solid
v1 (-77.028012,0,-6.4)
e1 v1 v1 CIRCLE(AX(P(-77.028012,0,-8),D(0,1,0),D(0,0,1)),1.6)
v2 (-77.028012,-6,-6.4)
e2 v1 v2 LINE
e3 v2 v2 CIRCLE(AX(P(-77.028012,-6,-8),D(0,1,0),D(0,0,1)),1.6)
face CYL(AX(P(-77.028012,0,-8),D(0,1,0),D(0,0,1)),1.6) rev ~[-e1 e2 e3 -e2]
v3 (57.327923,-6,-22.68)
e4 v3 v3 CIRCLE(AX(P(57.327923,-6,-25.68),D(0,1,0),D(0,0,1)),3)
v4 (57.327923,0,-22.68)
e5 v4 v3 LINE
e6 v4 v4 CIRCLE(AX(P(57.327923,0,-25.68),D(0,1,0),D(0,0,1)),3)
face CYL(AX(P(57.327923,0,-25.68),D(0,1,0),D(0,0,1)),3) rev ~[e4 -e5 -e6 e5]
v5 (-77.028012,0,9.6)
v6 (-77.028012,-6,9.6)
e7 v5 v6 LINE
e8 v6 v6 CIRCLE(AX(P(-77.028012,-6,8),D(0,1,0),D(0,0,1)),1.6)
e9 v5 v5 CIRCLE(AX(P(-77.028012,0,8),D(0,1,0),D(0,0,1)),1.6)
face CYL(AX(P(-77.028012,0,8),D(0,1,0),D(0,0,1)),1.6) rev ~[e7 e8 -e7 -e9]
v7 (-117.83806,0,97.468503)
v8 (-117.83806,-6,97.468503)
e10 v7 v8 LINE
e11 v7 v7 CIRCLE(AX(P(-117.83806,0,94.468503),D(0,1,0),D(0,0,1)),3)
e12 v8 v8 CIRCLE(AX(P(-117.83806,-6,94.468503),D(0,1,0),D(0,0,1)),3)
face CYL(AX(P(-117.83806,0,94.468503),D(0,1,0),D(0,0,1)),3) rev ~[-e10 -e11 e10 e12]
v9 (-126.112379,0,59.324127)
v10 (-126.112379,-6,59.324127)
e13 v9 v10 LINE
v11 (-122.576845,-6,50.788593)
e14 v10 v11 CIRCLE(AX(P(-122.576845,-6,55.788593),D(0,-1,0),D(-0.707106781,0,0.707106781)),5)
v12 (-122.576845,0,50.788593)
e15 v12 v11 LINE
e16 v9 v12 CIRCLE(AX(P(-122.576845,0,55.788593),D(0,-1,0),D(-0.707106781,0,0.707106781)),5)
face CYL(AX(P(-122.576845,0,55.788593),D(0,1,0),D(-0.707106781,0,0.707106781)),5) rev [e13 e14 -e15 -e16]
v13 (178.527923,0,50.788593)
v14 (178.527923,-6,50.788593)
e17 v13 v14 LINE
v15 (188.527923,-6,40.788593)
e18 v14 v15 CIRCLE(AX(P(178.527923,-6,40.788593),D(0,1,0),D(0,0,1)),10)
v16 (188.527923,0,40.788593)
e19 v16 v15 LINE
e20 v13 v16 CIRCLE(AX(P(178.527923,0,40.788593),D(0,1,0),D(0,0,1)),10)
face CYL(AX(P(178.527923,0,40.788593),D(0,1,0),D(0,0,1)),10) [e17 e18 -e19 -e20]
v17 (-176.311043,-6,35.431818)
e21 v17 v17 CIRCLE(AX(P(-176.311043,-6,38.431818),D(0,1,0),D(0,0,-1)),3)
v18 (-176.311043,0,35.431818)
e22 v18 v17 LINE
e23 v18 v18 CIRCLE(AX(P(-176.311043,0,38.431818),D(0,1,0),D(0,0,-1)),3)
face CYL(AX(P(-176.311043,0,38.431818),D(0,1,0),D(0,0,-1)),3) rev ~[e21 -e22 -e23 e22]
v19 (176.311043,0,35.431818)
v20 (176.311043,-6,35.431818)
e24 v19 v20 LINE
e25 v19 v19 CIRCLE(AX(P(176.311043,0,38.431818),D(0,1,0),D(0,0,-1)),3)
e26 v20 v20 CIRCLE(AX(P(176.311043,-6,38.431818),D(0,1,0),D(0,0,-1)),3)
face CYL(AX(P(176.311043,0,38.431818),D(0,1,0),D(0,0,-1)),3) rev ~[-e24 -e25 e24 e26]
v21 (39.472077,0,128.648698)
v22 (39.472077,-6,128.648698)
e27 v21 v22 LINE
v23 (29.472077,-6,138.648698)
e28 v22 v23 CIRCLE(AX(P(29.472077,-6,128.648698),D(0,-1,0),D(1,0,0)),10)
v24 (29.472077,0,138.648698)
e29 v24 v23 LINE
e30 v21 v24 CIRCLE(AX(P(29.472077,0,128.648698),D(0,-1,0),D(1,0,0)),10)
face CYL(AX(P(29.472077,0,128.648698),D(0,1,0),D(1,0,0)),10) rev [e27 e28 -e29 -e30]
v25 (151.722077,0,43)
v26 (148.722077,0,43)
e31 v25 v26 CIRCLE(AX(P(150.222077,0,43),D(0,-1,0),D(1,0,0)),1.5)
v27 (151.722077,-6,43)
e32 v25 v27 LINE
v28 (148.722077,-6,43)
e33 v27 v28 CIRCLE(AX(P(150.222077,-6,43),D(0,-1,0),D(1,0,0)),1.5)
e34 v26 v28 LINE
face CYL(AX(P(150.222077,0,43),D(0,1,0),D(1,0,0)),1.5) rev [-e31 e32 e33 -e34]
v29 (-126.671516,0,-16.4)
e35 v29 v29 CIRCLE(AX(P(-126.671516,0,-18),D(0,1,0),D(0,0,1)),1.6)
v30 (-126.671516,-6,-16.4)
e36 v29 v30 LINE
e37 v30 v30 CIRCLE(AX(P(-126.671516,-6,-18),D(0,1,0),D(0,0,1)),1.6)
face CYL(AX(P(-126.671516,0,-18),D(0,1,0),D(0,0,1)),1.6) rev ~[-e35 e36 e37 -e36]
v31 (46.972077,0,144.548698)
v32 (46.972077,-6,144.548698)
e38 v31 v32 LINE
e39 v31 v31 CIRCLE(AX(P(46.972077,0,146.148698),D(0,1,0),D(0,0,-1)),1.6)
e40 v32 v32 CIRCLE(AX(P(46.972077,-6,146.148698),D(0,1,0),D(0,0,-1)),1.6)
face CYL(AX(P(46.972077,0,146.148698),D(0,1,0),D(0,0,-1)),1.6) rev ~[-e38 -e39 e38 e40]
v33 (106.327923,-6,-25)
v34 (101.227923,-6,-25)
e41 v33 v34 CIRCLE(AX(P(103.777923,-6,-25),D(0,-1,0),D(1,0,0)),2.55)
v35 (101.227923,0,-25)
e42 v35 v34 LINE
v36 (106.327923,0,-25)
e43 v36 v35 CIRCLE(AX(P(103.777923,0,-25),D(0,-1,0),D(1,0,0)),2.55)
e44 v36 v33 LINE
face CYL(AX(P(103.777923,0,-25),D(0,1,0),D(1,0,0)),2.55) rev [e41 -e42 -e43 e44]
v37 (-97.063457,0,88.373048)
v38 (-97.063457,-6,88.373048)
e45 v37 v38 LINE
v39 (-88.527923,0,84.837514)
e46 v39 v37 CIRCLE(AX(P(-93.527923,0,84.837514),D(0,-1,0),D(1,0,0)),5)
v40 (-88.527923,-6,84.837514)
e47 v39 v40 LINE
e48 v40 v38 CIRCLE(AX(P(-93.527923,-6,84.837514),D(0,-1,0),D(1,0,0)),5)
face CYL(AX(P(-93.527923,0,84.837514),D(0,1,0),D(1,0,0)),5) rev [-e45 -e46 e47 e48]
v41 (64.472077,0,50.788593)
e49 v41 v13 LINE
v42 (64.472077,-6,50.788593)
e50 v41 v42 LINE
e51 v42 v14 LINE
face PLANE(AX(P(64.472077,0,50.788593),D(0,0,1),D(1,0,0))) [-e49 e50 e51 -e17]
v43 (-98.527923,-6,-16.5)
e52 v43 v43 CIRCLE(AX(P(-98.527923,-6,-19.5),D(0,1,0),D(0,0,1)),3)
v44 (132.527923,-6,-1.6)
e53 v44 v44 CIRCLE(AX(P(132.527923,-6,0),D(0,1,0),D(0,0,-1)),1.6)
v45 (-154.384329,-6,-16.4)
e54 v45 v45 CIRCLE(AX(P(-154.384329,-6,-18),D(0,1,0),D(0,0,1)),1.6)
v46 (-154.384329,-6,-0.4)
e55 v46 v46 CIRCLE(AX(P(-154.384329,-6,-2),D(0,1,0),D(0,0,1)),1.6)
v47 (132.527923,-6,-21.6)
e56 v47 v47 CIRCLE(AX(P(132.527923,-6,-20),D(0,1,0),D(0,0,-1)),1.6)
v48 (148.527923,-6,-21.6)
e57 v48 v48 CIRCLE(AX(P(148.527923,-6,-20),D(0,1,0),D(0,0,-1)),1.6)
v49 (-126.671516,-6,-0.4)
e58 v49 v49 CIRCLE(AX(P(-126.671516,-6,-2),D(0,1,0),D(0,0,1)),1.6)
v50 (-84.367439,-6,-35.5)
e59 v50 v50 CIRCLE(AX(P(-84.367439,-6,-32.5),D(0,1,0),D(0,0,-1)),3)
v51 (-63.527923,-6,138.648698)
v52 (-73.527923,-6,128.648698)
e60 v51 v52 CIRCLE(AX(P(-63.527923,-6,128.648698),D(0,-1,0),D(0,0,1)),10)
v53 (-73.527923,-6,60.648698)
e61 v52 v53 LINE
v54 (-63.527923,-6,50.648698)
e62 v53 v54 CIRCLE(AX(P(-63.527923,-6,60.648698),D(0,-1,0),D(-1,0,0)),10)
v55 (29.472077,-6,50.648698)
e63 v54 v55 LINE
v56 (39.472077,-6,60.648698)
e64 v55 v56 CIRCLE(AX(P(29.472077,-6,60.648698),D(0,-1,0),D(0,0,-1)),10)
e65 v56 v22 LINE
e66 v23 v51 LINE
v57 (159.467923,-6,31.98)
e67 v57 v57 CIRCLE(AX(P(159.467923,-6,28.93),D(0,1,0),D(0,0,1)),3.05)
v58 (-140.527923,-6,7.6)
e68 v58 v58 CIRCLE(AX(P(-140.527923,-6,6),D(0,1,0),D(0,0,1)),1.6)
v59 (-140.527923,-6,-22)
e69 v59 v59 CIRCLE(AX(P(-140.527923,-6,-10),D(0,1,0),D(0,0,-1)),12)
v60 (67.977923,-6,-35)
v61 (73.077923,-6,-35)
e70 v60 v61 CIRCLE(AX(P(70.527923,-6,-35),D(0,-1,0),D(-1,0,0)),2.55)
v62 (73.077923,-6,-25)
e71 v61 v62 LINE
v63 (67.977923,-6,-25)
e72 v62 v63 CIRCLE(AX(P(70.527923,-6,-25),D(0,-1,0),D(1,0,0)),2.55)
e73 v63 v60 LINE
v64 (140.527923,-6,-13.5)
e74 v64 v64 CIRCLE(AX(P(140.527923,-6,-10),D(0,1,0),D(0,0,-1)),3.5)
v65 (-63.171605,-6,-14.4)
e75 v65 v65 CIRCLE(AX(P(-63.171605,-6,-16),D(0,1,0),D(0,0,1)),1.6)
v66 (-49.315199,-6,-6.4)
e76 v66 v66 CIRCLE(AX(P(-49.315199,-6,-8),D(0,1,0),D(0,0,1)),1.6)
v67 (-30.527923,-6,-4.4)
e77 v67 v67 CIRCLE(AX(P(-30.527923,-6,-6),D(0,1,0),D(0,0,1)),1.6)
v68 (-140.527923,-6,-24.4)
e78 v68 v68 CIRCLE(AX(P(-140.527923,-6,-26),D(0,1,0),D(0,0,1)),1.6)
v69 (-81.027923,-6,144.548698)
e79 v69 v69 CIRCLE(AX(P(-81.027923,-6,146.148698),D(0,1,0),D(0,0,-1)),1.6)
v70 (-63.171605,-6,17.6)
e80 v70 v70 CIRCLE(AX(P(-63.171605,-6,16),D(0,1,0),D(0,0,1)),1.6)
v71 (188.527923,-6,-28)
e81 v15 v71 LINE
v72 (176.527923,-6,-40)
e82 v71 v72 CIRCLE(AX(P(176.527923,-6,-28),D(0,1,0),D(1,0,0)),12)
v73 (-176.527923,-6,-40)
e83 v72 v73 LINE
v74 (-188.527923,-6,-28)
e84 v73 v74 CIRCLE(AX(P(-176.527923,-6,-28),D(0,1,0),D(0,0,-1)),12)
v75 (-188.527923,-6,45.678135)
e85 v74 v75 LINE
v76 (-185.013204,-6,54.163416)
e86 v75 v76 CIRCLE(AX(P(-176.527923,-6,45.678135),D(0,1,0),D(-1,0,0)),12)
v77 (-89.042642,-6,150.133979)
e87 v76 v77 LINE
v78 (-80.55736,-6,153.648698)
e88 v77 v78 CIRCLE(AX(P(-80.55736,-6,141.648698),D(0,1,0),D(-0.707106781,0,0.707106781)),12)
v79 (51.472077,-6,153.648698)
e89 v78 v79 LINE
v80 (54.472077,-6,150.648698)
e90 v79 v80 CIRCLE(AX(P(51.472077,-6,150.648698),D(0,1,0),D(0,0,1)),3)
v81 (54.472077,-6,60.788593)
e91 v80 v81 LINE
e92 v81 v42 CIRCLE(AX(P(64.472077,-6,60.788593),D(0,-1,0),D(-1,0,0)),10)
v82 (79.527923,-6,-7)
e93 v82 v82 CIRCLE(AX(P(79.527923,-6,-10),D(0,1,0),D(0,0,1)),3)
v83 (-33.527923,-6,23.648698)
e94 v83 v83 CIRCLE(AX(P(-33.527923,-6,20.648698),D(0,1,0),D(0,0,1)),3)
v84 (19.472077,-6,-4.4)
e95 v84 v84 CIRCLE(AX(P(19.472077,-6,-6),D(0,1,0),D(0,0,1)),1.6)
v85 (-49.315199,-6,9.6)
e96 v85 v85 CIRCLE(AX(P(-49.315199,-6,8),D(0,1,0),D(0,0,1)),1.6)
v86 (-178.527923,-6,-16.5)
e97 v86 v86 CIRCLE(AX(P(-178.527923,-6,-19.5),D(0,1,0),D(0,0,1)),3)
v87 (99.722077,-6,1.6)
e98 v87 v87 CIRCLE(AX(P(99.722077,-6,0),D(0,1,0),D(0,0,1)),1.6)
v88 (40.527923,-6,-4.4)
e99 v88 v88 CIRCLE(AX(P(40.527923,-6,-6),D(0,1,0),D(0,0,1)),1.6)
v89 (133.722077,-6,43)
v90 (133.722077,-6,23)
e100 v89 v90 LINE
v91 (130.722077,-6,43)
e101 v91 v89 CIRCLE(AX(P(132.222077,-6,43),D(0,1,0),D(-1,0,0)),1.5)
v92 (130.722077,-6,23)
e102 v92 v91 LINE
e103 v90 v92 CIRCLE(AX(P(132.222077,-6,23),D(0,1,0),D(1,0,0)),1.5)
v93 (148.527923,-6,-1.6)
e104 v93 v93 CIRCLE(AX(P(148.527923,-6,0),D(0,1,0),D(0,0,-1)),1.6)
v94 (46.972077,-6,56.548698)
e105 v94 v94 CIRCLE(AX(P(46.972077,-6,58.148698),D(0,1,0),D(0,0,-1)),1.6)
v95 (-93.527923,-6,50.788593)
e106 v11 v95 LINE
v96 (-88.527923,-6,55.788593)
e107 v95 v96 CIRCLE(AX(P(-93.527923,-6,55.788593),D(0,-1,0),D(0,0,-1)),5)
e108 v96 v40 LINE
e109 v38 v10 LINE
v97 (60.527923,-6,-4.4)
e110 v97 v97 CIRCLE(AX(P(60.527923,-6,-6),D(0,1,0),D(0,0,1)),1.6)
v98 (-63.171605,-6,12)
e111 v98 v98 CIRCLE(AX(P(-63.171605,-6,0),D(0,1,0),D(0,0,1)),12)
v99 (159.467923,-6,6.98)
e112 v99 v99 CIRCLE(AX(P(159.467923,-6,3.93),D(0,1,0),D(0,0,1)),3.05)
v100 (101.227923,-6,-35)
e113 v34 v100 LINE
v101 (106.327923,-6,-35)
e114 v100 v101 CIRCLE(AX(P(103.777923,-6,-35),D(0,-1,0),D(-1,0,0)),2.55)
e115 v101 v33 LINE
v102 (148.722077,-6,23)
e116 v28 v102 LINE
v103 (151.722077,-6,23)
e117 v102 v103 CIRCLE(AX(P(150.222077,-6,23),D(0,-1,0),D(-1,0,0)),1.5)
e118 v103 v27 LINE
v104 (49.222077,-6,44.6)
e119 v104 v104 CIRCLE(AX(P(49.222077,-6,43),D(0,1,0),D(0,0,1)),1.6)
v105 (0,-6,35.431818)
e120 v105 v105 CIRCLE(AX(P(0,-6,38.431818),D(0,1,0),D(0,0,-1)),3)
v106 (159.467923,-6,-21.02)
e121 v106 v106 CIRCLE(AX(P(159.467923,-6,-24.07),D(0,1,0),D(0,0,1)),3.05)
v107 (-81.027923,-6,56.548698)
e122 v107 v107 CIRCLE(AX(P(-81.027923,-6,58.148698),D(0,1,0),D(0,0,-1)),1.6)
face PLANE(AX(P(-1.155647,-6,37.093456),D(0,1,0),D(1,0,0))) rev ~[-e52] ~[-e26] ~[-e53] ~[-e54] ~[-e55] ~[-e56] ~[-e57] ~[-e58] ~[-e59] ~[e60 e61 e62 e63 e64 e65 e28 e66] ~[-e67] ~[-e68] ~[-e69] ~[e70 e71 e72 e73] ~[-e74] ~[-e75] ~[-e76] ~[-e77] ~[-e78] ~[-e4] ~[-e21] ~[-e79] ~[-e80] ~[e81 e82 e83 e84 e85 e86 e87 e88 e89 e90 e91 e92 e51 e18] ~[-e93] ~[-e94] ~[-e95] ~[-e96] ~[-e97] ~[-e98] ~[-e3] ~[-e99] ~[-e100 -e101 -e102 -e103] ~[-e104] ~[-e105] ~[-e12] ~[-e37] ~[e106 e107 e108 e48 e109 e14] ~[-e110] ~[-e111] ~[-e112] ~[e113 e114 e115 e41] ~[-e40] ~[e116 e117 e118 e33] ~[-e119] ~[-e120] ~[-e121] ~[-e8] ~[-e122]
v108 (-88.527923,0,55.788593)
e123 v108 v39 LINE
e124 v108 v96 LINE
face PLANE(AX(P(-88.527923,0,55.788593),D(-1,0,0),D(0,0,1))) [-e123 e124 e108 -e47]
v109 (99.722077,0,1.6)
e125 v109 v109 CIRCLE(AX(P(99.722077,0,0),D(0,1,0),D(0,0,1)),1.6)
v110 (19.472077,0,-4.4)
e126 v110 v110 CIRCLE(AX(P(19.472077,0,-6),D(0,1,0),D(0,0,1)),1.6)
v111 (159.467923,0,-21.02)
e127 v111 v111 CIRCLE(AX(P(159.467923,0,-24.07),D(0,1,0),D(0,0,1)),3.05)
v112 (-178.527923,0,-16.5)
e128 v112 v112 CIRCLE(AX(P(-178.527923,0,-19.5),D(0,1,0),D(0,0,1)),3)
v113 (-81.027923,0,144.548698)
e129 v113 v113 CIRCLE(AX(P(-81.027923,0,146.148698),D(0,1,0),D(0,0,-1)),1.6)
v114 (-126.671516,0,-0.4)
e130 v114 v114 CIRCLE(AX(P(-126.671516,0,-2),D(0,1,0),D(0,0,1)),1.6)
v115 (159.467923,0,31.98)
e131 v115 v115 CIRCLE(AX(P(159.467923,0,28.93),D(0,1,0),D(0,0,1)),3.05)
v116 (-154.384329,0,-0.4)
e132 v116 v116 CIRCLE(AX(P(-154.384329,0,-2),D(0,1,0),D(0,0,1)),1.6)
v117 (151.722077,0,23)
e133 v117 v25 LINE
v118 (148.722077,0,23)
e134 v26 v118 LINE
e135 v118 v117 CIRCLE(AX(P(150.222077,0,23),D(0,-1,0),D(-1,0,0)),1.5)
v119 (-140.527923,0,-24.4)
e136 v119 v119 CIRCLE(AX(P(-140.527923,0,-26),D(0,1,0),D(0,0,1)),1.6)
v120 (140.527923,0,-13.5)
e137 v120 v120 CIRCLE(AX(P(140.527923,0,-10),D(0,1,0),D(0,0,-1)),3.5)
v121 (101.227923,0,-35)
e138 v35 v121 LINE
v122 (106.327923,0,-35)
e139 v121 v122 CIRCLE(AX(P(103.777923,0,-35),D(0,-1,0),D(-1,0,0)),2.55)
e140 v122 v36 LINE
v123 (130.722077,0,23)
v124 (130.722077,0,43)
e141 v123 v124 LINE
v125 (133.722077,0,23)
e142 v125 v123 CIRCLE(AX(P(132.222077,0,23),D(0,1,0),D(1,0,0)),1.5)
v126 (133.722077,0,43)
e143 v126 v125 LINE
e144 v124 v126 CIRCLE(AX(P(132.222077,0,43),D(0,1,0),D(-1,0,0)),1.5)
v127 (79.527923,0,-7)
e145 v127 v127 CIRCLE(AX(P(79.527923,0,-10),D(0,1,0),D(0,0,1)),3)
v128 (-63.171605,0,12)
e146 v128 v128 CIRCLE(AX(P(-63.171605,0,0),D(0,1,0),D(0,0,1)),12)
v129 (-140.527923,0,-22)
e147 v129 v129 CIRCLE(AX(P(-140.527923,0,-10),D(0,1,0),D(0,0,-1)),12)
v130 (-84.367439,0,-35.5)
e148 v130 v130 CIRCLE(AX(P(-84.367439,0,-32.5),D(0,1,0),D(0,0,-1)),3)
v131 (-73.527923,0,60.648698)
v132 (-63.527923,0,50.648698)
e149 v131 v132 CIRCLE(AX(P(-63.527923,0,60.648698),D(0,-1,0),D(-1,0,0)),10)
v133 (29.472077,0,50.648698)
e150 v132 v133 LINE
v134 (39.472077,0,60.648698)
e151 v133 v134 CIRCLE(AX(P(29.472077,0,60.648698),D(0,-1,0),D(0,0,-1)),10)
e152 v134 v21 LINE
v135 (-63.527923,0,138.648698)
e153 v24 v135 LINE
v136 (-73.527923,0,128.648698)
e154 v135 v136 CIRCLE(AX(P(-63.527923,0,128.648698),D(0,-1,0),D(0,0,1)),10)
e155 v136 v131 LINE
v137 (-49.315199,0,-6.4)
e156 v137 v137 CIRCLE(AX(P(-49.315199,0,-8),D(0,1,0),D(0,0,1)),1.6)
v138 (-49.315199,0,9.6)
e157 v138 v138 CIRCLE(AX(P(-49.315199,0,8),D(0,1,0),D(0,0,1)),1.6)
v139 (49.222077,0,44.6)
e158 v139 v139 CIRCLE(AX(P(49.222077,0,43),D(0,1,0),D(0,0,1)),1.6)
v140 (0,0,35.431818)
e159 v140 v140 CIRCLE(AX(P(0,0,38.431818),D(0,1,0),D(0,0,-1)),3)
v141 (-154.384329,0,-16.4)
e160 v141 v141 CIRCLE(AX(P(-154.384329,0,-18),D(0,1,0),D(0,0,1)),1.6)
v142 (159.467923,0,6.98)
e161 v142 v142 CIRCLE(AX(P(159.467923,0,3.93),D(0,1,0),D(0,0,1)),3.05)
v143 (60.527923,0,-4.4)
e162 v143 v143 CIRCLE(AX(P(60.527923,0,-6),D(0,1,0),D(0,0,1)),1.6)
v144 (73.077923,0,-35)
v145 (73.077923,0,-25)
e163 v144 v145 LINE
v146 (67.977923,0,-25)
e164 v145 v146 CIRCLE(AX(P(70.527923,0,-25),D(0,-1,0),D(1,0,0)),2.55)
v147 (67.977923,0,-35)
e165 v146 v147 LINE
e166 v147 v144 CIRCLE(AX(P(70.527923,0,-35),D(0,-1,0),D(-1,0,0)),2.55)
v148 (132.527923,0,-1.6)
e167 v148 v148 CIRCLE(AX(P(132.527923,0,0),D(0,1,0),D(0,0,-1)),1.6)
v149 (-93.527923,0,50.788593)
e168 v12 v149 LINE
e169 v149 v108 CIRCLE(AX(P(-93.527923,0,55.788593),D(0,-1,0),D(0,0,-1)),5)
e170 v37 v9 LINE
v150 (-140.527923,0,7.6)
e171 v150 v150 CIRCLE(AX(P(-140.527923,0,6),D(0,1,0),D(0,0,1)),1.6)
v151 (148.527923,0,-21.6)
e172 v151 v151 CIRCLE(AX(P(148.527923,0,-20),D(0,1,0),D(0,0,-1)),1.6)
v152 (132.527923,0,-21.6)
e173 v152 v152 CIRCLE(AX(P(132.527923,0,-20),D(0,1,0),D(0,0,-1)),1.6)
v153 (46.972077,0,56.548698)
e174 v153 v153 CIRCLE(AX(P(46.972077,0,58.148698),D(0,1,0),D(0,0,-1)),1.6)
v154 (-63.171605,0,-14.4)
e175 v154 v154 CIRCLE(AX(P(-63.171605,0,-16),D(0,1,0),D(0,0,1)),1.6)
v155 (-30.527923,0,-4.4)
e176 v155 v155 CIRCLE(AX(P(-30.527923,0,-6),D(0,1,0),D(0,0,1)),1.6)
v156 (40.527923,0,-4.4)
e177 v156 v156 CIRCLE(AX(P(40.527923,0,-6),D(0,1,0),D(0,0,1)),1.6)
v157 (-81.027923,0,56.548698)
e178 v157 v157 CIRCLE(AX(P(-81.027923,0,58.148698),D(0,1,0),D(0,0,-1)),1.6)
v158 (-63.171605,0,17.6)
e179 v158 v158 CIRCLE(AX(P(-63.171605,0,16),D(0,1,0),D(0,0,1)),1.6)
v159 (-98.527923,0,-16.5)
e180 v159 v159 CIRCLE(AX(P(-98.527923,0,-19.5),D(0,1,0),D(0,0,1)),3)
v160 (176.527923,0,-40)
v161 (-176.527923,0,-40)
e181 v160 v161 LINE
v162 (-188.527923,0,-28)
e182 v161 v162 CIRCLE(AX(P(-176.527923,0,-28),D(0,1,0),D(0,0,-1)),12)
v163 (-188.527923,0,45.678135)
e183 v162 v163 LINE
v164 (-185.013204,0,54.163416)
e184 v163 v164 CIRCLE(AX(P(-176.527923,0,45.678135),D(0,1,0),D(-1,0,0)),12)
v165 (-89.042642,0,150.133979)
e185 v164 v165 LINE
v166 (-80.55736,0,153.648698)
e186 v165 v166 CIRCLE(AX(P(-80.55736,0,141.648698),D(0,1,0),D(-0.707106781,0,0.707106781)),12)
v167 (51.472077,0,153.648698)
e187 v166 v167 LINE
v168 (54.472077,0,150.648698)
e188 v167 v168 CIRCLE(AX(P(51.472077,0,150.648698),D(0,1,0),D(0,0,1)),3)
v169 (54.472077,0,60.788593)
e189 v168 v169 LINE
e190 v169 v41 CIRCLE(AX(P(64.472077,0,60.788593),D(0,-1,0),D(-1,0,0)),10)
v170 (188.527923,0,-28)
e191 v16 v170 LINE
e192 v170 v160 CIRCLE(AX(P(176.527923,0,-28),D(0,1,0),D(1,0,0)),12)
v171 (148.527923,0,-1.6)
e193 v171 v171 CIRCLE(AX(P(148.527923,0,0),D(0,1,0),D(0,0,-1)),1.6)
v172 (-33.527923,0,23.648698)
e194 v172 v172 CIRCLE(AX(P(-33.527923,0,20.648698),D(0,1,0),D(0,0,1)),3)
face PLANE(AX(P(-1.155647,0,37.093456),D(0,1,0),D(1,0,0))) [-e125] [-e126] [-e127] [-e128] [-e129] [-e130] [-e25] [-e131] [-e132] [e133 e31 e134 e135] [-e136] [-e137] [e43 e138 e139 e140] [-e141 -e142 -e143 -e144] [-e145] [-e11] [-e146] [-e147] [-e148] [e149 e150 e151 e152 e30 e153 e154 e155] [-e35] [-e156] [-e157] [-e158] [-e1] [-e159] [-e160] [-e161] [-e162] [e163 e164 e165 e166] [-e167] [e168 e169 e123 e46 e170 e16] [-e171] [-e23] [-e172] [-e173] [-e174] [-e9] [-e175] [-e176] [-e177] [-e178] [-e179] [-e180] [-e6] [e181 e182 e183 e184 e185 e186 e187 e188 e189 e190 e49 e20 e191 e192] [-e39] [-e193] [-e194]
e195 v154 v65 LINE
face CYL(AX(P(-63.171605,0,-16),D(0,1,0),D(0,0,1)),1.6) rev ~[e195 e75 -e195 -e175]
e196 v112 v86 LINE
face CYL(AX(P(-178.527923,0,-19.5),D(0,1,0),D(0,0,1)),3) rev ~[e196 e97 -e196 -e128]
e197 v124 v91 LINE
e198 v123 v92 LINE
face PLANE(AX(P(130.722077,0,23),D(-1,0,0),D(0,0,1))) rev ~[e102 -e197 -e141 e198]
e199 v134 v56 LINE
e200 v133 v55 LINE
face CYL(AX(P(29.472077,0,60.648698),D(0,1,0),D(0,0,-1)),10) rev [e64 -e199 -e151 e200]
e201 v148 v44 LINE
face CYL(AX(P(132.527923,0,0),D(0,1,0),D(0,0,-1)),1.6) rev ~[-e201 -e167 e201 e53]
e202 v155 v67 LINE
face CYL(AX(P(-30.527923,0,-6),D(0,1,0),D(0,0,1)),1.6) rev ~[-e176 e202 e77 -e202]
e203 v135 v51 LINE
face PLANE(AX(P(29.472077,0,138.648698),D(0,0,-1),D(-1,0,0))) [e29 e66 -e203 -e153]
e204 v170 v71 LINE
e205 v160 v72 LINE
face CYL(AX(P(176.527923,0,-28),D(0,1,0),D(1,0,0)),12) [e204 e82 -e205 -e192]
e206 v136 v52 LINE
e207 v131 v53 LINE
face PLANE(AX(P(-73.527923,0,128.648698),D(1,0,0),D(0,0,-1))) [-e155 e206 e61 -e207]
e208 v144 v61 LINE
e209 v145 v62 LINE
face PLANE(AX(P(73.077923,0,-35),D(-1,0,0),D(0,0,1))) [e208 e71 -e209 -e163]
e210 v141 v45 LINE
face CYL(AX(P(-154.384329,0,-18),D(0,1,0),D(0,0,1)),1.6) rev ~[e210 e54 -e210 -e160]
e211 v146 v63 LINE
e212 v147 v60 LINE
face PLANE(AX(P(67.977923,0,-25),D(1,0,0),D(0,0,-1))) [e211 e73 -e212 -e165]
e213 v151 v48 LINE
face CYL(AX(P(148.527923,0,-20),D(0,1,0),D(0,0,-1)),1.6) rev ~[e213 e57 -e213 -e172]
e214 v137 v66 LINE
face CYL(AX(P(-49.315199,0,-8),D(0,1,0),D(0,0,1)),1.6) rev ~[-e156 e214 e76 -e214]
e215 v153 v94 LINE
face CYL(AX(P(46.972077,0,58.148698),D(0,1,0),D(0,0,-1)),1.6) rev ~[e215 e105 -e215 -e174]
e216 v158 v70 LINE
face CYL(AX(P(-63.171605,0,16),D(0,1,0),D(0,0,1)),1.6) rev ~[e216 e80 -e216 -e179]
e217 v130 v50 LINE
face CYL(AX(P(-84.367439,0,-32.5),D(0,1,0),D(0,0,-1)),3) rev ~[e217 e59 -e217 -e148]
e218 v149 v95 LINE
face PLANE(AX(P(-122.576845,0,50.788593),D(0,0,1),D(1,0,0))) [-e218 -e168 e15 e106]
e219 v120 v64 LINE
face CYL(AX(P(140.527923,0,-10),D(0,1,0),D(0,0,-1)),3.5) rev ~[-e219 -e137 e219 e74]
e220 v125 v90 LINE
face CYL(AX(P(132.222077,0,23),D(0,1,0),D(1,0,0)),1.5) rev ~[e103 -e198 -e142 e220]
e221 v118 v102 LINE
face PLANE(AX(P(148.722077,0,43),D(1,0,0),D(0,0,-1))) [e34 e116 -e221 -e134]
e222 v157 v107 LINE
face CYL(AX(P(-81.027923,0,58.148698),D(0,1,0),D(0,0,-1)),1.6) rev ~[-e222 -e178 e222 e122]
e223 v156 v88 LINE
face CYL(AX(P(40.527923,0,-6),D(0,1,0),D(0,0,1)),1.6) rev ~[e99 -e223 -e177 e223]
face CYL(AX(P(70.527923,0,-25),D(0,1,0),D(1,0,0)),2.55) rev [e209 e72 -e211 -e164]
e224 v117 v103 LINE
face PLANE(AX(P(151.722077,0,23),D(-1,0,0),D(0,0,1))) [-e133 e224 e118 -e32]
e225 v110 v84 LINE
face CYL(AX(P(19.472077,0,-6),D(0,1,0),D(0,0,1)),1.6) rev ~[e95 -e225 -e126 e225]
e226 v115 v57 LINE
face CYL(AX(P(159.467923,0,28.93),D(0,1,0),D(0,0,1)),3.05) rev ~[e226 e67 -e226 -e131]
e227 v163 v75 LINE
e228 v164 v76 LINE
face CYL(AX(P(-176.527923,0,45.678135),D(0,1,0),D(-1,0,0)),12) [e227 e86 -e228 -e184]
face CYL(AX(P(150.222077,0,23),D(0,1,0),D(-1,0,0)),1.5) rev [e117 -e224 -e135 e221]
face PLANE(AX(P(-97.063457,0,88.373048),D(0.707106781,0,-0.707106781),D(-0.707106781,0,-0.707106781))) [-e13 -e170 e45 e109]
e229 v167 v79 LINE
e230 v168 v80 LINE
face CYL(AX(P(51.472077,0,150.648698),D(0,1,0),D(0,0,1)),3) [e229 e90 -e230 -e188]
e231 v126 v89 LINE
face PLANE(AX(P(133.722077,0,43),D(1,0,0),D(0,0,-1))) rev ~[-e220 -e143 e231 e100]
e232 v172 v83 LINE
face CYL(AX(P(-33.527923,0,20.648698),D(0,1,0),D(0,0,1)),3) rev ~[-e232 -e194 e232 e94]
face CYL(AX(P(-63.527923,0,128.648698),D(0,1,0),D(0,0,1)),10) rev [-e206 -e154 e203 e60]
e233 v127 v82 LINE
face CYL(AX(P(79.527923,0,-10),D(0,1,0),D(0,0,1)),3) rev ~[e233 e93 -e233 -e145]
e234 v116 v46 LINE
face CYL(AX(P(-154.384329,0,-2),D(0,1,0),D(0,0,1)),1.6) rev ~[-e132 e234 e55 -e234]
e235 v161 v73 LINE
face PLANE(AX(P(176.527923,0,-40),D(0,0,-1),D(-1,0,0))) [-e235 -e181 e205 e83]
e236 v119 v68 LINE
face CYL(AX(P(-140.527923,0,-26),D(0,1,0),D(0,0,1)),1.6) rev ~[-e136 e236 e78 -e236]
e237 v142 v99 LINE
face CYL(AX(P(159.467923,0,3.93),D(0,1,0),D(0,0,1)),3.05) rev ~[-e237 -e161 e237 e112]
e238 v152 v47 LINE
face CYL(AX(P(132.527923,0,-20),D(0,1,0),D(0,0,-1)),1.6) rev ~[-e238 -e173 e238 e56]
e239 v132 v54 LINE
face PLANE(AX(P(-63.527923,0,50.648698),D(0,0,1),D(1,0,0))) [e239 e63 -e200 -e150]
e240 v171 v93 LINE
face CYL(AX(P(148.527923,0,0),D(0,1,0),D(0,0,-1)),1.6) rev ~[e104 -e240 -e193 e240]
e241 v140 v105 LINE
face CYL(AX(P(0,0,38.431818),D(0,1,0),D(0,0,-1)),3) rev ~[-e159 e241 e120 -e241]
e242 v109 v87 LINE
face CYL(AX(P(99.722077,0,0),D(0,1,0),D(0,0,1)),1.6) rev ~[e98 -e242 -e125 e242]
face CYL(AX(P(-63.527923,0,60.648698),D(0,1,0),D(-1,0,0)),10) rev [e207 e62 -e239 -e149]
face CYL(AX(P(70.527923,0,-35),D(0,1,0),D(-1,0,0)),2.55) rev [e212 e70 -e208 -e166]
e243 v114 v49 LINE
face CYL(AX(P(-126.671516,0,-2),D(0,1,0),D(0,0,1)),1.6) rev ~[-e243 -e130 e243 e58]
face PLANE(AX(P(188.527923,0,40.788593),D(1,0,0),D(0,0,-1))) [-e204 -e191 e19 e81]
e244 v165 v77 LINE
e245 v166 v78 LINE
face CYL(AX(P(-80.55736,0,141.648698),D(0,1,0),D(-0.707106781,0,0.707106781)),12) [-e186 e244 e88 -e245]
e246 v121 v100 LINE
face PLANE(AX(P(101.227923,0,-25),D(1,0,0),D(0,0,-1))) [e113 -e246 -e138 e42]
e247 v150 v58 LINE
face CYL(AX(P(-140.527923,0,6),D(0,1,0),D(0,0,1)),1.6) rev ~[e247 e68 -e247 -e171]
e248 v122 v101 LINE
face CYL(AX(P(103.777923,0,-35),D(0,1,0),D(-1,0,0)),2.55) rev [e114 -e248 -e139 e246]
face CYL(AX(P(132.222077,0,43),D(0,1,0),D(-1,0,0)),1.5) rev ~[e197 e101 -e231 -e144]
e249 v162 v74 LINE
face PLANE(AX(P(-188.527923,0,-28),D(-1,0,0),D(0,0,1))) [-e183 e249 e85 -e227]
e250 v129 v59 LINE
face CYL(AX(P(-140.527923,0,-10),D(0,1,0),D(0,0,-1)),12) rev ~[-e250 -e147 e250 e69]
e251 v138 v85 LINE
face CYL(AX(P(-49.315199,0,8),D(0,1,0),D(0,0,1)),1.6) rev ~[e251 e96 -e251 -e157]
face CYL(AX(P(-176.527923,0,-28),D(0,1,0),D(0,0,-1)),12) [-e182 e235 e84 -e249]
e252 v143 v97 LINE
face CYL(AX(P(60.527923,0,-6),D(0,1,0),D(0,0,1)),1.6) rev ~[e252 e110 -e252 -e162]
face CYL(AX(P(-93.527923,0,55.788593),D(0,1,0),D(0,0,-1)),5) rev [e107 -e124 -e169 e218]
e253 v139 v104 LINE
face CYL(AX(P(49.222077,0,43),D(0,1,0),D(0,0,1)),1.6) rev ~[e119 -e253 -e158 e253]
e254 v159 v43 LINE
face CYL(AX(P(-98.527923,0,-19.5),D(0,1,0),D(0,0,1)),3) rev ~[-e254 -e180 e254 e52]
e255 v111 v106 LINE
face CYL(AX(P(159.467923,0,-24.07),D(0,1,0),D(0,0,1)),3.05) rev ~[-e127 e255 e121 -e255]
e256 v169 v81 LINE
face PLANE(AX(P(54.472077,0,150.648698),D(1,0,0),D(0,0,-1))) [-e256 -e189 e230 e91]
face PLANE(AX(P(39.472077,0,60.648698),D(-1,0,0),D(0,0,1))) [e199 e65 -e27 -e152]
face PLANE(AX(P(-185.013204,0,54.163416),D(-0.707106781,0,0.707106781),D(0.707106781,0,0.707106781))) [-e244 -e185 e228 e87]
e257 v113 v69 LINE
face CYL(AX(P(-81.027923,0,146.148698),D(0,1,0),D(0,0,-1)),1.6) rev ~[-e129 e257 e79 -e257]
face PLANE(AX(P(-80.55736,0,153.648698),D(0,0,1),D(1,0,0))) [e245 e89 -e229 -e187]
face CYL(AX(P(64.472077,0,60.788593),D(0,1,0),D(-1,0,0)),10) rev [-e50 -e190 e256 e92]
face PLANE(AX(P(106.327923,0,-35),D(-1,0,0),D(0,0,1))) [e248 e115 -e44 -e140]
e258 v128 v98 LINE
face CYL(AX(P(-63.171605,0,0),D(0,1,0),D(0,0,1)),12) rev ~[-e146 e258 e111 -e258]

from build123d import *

# Parameters (mm, degrees)
ESBO_O1_R                = 1.6
ESBO_O1_R_2              = 3
ESBO_O1_R_3              = 12
ESBO_O1_R_4              = 3.5
ESBO_O1_R_5              = 3.05
RESSALTO_EXTRUS_O1_DEPTH = 6
ESBO_O2_R                = 3
CORTE_EXTRUS_O1_DEPTH    = 10


with BuildPart() as part:
    # Esboço1 → Ressalto-extrusão1 (new body)
    with BuildSketch(Plane(origin=(0, 0, 0), x_dir=(1, 0, 0), z_dir=(0, 1, 0))):
        with BuildLine():
            Line((-80.557360207, -153.648697641), (51.472077044, -153.648697641))
            ThreePointArc((51.472077044, -153.648697641), (53.593397388, -152.770017984), (54.472077044, -150.648697641))
            Line((54.472077044, -150.648697641), (54.472077044, -60.788592817))
            ThreePointArc((54.472077044, -60.788592817), (57.401009232, -53.717525005), (64.472077044, -50.788592817))
            Line((64.472077044, -50.788592817), (178.527922956, -50.788592817))
            ThreePointArc((178.527922956, -50.788592817), (185.598990768, -47.859660628), (188.527922956, -40.788592817))
            Line((188.527922956, -40.788592817), (188.527922956, 28))
            ThreePointArc((188.527922956, 28), (185.01320433, 36.485281374), (176.527922956, 40))
            Line((176.527922956, 40), (-176.527922956, 40))
            ThreePointArc((-176.527922956, 40), (-185.01320433, 36.485281374), (-188.527922956, 28))
            Line((-188.527922956, 28), (-188.527922956, -45.678134892))
            ThreePointArc((-188.527922956, -45.678134892), (-187.614477346, -50.270336081), (-185.01320433, -54.163416267))
            Line((-185.01320433, -54.163416267), (-89.042641582, -150.133979015))
            ThreePointArc((-89.042641582, -150.133979015), (-85.149561396, -152.735252031), (-80.557360207, -153.648697641))
        make_face()
        with Locations(Location((-81.027922956, -58.148697641, 0), (0, 0, 90))):
            Circle(ESBO_O1_R, mode=Mode.SUBTRACT)
        with Locations(Location((-81.027922956, -146.148697641, 0), (0, 0, 90))):
            Circle(ESBO_O1_R, mode=Mode.SUBTRACT)
        with Locations(Location((46.972077044, -58.148697641, 0), (0, 0, 90))):
            Circle(ESBO_O1_R, mode=Mode.SUBTRACT)
        with Locations(Location((46.972077044, -146.148697641, 0), (0, 0, 90))):
            Circle(ESBO_O1_R, mode=Mode.SUBTRACT)
        with Locations(Location((176.311042956, -38.431817641, 0), (0, 0, 90))):
            Circle(ESBO_O1_R_2, mode=Mode.SUBTRACT)
        with Locations(Location((0, -38.431817641, 0), (0, 0, 90))):
            Circle(ESBO_O1_R_2, mode=Mode.SUBTRACT)
        with Locations(Location((-140.527922956, 10, 0), (0, 0, 90))):
            Circle(ESBO_O1_R_3, mode=Mode.SUBTRACT)
        with Locations(Location((-140.527922956, -6, 0), (0, 0, 270))):
            Circle(ESBO_O1_R, mode=Mode.SUBTRACT)
        with Locations(Location((-154.384329416, 2, 0), (0, 0, 270))):
            Circle(ESBO_O1_R, mode=Mode.SUBTRACT)
        with Locations(Location((-154.384329416, 18, 0), (0, 0, 270))):
            Circle(ESBO_O1_R, mode=Mode.SUBTRACT)
        with Locations(Location((-84.367438628, 32.5, 0), (0, 0, 90))):
            Circle(ESBO_O1_R_2, mode=Mode.SUBTRACT)
        with Locations(Location((-176.311042956, -38.431817641, 0), (0, 0, 90))):
            Circle(ESBO_O1_R_2, mode=Mode.SUBTRACT)
        with Locations(Location((140.527922956, 10, 0), (0, 0, 90))):
            Circle(ESBO_O1_R_4, mode=Mode.SUBTRACT)
        with Locations(Location((148.527922956, 0, 0), (0, 0, 90))):
            Circle(ESBO_O1_R, mode=Mode.SUBTRACT)
        with Locations(Location((148.527922956, 20, 0), (0, 0, 90))):
            Circle(ESBO_O1_R, mode=Mode.SUBTRACT)
        with Locations(Location((132.527922956, 0, 0), (0, 0, 90))):
            Circle(ESBO_O1_R, mode=Mode.SUBTRACT)
        with Locations(Location((132.527922956, 20, 0), (0, 0, 90))):
            Circle(ESBO_O1_R, mode=Mode.SUBTRACT)
        with Locations(Location((-140.527922956, 26, 0), (0, 0, 270))):
            Circle(ESBO_O1_R, mode=Mode.SUBTRACT)
        with Locations(Location((-126.671516495, 18, 0), (0, 0, 270))):
            Circle(ESBO_O1_R, mode=Mode.SUBTRACT)
        with Locations(Location((-126.671516495, 2, 0), (0, 0, 270))):
            Circle(ESBO_O1_R, mode=Mode.SUBTRACT)
        with Locations(Location((-63.17160518, -16, 0), (0, 0, 270))):
            Circle(ESBO_O1_R, mode=Mode.SUBTRACT)
        with Locations(Location((-77.02801164, -8, 0), (0, 0, 270))):
            Circle(ESBO_O1_R, mode=Mode.SUBTRACT)
        with Locations(Location((-77.02801164, 8, 0), (0, 0, 270))):
            Circle(ESBO_O1_R, mode=Mode.SUBTRACT)
        with Locations(Location((-63.17160518, 16, 0), (0, 0, 270))):
            Circle(ESBO_O1_R, mode=Mode.SUBTRACT)
        with Locations(Location((-49.315198719, 8, 0), (0, 0, 270))):
            Circle(ESBO_O1_R, mode=Mode.SUBTRACT)
        with Locations(Location((-49.315198719, -8, 0), (0, 0, 270))):
            Circle(ESBO_O1_R, mode=Mode.SUBTRACT)
        with Locations(Location((-63.17160518, 0, 0), (0, 0, 270))):
            Circle(ESBO_O1_R_3, mode=Mode.SUBTRACT)
        with Locations(Location((-33.527922956, -20.648697641, 0), (0, 0, 270))):
            Circle(ESBO_O1_R_2, mode=Mode.SUBTRACT)
        with Locations(Location((79.527922956, 10, 0), (0, 0, 270))):
            Circle(ESBO_O1_R_2, mode=Mode.SUBTRACT)
        with Locations(Location((99.722077044, 0, 0), (0, 0, 270))):
            Circle(ESBO_O1_R, mode=Mode.SUBTRACT)
        with Locations(Location((49.222077044, -43, 0), (0, 0, 270))):
            Circle(ESBO_O1_R, mode=Mode.SUBTRACT)
        with Locations(Location((-30.527922956, 6, 0), (0, 0, 270))):
            Circle(ESBO_O1_R, mode=Mode.SUBTRACT)
        with Locations(Location((19.472077044, 6, 0), (0, 0, 270))):
            Circle(ESBO_O1_R, mode=Mode.SUBTRACT)
        with Locations(Location((60.527922956, 6, 0), (0, 0, 270))):
            Circle(ESBO_O1_R, mode=Mode.SUBTRACT)
        with Locations(Location((40.527922956, 6, 0), (0, 0, 270))):
            Circle(ESBO_O1_R, mode=Mode.SUBTRACT)
        with Locations(Location((159.467922956, 24.07, 0), (0, 0, 270))):
            Circle(ESBO_O1_R_5, mode=Mode.SUBTRACT)
        with Locations(Location((159.467922956, -3.93, 0), (0, 0, 270))):
            Circle(ESBO_O1_R_5, mode=Mode.SUBTRACT)
        with Locations(Location((159.467922956, -28.93, 0), (0, 0, 270))):
            Circle(ESBO_O1_R_5, mode=Mode.SUBTRACT)
        with Locations(Location((-178.527922956, 19.5, 0), (0, 0, 270))):
            Circle(ESBO_O1_R_2, mode=Mode.SUBTRACT)
        with Locations(Location((-98.527922956, 19.5, 0), (0, 0, 270))):
            Circle(ESBO_O1_R_2, mode=Mode.SUBTRACT)
        with Locations(Location((57.327922956, 25.68, 0), (0, 0, 270))):
            Circle(ESBO_O1_R_2, mode=Mode.SUBTRACT)
        with BuildLine():
            Line((-122.576844598, -50.788592817), (-93.527922956, -50.788592817))
            ThreePointArc((-93.527922956, -50.788592817), (-89.99238905, -52.253058911), (-88.527922956, -55.788592817))
            Line((-88.527922956, -55.788592817), (-88.527922956, -84.837514459))
            ThreePointArc((-88.527922956, -84.837514459), (-91.614505794, -89.456912121), (-97.063456862, -88.373048365))
            Line((-97.063456862, -88.373048365), (-126.112378504, -59.324126723))
            ThreePointArc((-126.112378504, -59.324126723), (-127.196242261, -53.875175655), (-122.576844598, -50.788592817))
        make_face(mode=Mode.SUBTRACT)
        with BuildLine():
            Line((39.472077044, -60.648697641), (39.472077044, -128.648697641))
            ThreePointArc((39.472077044, -128.648697641), (36.543144856, -135.719765453), (29.472077044, -138.648697641))
            Line((29.472077044, -138.648697641), (-63.527922956, -138.648697641))
            ThreePointArc((-63.527922956, -138.648697641), (-70.598990768, -135.719765453), (-73.527922956, -128.648697641))
            Line((-73.527922956, -128.648697641), (-73.527922956, -60.648697641))
            ThreePointArc((-73.527922956, -60.648697641), (-70.598990768, -53.577629829), (-63.527922956, -50.648697641))
            Line((-63.527922956, -50.648697641), (29.472077044, -50.648697641))
            ThreePointArc((29.472077044, -50.648697641), (36.543144856, -53.577629829), (39.472077044, -60.648697641))
        make_face(mode=Mode.SUBTRACT)
        with BuildLine():
            Line((148.722077044, -43), (148.722077044, -23))
            ThreePointArc((148.722077044, -23), (150.222077044, -21.5), (151.722077044, -23))
            Line((151.722077044, -23), (151.722077044, -43))
            ThreePointArc((151.722077044, -43), (150.222077044, -44.5), (148.722077044, -43))
        make_face(mode=Mode.SUBTRACT)
        with BuildLine():
            Line((133.722077044, -43), (133.722077044, -23))
            ThreePointArc((133.722077044, -23), (132.222077044, -21.5), (130.722077044, -23))
            Line((130.722077044, -23), (130.722077044, -43))
            ThreePointArc((130.722077044, -43), (132.222077044, -44.5), (133.722077044, -43))
        make_face(mode=Mode.SUBTRACT)
        with BuildLine():
            Line((67.977922956, 25), (67.977922956, 35))
            ThreePointArc((67.977922956, 35), (70.527922956, 37.55), (73.077922956, 35))
            Line((73.077922956, 35), (73.077922956, 25))
            ThreePointArc((73.077922956, 25), (70.527922956, 22.45), (67.977922956, 25))
        make_face(mode=Mode.SUBTRACT)
        with BuildLine():
            Line((101.227922956, 25), (101.227922956, 35))
            ThreePointArc((101.227922956, 35), (103.777922956, 37.55), (106.327922956, 35))
            Line((106.327922956, 35), (106.327922956, 25))
            ThreePointArc((106.327922956, 25), (103.777922956, 22.45), (101.227922956, 25))
        make_face(mode=Mode.SUBTRACT)
    extrude(amount=-RESSALTO_EXTRUS_O1_DEPTH)

    # Esboço2 → Corte-extrusão1 (cut)
    with BuildSketch(Plane(origin=(0, 0, 0), x_dir=(1, 0, 0), z_dir=(0, 1, 0))):
        with Locations(Location((-117.838060117, -94.468502794, 0), (0, 0, 270))):
            Circle(ESBO_O2_R)
    extrude(amount=-CORTE_EXTRUS_O1_DEPTH, mode=Mode.SUBTRACT)


solid = part.part
